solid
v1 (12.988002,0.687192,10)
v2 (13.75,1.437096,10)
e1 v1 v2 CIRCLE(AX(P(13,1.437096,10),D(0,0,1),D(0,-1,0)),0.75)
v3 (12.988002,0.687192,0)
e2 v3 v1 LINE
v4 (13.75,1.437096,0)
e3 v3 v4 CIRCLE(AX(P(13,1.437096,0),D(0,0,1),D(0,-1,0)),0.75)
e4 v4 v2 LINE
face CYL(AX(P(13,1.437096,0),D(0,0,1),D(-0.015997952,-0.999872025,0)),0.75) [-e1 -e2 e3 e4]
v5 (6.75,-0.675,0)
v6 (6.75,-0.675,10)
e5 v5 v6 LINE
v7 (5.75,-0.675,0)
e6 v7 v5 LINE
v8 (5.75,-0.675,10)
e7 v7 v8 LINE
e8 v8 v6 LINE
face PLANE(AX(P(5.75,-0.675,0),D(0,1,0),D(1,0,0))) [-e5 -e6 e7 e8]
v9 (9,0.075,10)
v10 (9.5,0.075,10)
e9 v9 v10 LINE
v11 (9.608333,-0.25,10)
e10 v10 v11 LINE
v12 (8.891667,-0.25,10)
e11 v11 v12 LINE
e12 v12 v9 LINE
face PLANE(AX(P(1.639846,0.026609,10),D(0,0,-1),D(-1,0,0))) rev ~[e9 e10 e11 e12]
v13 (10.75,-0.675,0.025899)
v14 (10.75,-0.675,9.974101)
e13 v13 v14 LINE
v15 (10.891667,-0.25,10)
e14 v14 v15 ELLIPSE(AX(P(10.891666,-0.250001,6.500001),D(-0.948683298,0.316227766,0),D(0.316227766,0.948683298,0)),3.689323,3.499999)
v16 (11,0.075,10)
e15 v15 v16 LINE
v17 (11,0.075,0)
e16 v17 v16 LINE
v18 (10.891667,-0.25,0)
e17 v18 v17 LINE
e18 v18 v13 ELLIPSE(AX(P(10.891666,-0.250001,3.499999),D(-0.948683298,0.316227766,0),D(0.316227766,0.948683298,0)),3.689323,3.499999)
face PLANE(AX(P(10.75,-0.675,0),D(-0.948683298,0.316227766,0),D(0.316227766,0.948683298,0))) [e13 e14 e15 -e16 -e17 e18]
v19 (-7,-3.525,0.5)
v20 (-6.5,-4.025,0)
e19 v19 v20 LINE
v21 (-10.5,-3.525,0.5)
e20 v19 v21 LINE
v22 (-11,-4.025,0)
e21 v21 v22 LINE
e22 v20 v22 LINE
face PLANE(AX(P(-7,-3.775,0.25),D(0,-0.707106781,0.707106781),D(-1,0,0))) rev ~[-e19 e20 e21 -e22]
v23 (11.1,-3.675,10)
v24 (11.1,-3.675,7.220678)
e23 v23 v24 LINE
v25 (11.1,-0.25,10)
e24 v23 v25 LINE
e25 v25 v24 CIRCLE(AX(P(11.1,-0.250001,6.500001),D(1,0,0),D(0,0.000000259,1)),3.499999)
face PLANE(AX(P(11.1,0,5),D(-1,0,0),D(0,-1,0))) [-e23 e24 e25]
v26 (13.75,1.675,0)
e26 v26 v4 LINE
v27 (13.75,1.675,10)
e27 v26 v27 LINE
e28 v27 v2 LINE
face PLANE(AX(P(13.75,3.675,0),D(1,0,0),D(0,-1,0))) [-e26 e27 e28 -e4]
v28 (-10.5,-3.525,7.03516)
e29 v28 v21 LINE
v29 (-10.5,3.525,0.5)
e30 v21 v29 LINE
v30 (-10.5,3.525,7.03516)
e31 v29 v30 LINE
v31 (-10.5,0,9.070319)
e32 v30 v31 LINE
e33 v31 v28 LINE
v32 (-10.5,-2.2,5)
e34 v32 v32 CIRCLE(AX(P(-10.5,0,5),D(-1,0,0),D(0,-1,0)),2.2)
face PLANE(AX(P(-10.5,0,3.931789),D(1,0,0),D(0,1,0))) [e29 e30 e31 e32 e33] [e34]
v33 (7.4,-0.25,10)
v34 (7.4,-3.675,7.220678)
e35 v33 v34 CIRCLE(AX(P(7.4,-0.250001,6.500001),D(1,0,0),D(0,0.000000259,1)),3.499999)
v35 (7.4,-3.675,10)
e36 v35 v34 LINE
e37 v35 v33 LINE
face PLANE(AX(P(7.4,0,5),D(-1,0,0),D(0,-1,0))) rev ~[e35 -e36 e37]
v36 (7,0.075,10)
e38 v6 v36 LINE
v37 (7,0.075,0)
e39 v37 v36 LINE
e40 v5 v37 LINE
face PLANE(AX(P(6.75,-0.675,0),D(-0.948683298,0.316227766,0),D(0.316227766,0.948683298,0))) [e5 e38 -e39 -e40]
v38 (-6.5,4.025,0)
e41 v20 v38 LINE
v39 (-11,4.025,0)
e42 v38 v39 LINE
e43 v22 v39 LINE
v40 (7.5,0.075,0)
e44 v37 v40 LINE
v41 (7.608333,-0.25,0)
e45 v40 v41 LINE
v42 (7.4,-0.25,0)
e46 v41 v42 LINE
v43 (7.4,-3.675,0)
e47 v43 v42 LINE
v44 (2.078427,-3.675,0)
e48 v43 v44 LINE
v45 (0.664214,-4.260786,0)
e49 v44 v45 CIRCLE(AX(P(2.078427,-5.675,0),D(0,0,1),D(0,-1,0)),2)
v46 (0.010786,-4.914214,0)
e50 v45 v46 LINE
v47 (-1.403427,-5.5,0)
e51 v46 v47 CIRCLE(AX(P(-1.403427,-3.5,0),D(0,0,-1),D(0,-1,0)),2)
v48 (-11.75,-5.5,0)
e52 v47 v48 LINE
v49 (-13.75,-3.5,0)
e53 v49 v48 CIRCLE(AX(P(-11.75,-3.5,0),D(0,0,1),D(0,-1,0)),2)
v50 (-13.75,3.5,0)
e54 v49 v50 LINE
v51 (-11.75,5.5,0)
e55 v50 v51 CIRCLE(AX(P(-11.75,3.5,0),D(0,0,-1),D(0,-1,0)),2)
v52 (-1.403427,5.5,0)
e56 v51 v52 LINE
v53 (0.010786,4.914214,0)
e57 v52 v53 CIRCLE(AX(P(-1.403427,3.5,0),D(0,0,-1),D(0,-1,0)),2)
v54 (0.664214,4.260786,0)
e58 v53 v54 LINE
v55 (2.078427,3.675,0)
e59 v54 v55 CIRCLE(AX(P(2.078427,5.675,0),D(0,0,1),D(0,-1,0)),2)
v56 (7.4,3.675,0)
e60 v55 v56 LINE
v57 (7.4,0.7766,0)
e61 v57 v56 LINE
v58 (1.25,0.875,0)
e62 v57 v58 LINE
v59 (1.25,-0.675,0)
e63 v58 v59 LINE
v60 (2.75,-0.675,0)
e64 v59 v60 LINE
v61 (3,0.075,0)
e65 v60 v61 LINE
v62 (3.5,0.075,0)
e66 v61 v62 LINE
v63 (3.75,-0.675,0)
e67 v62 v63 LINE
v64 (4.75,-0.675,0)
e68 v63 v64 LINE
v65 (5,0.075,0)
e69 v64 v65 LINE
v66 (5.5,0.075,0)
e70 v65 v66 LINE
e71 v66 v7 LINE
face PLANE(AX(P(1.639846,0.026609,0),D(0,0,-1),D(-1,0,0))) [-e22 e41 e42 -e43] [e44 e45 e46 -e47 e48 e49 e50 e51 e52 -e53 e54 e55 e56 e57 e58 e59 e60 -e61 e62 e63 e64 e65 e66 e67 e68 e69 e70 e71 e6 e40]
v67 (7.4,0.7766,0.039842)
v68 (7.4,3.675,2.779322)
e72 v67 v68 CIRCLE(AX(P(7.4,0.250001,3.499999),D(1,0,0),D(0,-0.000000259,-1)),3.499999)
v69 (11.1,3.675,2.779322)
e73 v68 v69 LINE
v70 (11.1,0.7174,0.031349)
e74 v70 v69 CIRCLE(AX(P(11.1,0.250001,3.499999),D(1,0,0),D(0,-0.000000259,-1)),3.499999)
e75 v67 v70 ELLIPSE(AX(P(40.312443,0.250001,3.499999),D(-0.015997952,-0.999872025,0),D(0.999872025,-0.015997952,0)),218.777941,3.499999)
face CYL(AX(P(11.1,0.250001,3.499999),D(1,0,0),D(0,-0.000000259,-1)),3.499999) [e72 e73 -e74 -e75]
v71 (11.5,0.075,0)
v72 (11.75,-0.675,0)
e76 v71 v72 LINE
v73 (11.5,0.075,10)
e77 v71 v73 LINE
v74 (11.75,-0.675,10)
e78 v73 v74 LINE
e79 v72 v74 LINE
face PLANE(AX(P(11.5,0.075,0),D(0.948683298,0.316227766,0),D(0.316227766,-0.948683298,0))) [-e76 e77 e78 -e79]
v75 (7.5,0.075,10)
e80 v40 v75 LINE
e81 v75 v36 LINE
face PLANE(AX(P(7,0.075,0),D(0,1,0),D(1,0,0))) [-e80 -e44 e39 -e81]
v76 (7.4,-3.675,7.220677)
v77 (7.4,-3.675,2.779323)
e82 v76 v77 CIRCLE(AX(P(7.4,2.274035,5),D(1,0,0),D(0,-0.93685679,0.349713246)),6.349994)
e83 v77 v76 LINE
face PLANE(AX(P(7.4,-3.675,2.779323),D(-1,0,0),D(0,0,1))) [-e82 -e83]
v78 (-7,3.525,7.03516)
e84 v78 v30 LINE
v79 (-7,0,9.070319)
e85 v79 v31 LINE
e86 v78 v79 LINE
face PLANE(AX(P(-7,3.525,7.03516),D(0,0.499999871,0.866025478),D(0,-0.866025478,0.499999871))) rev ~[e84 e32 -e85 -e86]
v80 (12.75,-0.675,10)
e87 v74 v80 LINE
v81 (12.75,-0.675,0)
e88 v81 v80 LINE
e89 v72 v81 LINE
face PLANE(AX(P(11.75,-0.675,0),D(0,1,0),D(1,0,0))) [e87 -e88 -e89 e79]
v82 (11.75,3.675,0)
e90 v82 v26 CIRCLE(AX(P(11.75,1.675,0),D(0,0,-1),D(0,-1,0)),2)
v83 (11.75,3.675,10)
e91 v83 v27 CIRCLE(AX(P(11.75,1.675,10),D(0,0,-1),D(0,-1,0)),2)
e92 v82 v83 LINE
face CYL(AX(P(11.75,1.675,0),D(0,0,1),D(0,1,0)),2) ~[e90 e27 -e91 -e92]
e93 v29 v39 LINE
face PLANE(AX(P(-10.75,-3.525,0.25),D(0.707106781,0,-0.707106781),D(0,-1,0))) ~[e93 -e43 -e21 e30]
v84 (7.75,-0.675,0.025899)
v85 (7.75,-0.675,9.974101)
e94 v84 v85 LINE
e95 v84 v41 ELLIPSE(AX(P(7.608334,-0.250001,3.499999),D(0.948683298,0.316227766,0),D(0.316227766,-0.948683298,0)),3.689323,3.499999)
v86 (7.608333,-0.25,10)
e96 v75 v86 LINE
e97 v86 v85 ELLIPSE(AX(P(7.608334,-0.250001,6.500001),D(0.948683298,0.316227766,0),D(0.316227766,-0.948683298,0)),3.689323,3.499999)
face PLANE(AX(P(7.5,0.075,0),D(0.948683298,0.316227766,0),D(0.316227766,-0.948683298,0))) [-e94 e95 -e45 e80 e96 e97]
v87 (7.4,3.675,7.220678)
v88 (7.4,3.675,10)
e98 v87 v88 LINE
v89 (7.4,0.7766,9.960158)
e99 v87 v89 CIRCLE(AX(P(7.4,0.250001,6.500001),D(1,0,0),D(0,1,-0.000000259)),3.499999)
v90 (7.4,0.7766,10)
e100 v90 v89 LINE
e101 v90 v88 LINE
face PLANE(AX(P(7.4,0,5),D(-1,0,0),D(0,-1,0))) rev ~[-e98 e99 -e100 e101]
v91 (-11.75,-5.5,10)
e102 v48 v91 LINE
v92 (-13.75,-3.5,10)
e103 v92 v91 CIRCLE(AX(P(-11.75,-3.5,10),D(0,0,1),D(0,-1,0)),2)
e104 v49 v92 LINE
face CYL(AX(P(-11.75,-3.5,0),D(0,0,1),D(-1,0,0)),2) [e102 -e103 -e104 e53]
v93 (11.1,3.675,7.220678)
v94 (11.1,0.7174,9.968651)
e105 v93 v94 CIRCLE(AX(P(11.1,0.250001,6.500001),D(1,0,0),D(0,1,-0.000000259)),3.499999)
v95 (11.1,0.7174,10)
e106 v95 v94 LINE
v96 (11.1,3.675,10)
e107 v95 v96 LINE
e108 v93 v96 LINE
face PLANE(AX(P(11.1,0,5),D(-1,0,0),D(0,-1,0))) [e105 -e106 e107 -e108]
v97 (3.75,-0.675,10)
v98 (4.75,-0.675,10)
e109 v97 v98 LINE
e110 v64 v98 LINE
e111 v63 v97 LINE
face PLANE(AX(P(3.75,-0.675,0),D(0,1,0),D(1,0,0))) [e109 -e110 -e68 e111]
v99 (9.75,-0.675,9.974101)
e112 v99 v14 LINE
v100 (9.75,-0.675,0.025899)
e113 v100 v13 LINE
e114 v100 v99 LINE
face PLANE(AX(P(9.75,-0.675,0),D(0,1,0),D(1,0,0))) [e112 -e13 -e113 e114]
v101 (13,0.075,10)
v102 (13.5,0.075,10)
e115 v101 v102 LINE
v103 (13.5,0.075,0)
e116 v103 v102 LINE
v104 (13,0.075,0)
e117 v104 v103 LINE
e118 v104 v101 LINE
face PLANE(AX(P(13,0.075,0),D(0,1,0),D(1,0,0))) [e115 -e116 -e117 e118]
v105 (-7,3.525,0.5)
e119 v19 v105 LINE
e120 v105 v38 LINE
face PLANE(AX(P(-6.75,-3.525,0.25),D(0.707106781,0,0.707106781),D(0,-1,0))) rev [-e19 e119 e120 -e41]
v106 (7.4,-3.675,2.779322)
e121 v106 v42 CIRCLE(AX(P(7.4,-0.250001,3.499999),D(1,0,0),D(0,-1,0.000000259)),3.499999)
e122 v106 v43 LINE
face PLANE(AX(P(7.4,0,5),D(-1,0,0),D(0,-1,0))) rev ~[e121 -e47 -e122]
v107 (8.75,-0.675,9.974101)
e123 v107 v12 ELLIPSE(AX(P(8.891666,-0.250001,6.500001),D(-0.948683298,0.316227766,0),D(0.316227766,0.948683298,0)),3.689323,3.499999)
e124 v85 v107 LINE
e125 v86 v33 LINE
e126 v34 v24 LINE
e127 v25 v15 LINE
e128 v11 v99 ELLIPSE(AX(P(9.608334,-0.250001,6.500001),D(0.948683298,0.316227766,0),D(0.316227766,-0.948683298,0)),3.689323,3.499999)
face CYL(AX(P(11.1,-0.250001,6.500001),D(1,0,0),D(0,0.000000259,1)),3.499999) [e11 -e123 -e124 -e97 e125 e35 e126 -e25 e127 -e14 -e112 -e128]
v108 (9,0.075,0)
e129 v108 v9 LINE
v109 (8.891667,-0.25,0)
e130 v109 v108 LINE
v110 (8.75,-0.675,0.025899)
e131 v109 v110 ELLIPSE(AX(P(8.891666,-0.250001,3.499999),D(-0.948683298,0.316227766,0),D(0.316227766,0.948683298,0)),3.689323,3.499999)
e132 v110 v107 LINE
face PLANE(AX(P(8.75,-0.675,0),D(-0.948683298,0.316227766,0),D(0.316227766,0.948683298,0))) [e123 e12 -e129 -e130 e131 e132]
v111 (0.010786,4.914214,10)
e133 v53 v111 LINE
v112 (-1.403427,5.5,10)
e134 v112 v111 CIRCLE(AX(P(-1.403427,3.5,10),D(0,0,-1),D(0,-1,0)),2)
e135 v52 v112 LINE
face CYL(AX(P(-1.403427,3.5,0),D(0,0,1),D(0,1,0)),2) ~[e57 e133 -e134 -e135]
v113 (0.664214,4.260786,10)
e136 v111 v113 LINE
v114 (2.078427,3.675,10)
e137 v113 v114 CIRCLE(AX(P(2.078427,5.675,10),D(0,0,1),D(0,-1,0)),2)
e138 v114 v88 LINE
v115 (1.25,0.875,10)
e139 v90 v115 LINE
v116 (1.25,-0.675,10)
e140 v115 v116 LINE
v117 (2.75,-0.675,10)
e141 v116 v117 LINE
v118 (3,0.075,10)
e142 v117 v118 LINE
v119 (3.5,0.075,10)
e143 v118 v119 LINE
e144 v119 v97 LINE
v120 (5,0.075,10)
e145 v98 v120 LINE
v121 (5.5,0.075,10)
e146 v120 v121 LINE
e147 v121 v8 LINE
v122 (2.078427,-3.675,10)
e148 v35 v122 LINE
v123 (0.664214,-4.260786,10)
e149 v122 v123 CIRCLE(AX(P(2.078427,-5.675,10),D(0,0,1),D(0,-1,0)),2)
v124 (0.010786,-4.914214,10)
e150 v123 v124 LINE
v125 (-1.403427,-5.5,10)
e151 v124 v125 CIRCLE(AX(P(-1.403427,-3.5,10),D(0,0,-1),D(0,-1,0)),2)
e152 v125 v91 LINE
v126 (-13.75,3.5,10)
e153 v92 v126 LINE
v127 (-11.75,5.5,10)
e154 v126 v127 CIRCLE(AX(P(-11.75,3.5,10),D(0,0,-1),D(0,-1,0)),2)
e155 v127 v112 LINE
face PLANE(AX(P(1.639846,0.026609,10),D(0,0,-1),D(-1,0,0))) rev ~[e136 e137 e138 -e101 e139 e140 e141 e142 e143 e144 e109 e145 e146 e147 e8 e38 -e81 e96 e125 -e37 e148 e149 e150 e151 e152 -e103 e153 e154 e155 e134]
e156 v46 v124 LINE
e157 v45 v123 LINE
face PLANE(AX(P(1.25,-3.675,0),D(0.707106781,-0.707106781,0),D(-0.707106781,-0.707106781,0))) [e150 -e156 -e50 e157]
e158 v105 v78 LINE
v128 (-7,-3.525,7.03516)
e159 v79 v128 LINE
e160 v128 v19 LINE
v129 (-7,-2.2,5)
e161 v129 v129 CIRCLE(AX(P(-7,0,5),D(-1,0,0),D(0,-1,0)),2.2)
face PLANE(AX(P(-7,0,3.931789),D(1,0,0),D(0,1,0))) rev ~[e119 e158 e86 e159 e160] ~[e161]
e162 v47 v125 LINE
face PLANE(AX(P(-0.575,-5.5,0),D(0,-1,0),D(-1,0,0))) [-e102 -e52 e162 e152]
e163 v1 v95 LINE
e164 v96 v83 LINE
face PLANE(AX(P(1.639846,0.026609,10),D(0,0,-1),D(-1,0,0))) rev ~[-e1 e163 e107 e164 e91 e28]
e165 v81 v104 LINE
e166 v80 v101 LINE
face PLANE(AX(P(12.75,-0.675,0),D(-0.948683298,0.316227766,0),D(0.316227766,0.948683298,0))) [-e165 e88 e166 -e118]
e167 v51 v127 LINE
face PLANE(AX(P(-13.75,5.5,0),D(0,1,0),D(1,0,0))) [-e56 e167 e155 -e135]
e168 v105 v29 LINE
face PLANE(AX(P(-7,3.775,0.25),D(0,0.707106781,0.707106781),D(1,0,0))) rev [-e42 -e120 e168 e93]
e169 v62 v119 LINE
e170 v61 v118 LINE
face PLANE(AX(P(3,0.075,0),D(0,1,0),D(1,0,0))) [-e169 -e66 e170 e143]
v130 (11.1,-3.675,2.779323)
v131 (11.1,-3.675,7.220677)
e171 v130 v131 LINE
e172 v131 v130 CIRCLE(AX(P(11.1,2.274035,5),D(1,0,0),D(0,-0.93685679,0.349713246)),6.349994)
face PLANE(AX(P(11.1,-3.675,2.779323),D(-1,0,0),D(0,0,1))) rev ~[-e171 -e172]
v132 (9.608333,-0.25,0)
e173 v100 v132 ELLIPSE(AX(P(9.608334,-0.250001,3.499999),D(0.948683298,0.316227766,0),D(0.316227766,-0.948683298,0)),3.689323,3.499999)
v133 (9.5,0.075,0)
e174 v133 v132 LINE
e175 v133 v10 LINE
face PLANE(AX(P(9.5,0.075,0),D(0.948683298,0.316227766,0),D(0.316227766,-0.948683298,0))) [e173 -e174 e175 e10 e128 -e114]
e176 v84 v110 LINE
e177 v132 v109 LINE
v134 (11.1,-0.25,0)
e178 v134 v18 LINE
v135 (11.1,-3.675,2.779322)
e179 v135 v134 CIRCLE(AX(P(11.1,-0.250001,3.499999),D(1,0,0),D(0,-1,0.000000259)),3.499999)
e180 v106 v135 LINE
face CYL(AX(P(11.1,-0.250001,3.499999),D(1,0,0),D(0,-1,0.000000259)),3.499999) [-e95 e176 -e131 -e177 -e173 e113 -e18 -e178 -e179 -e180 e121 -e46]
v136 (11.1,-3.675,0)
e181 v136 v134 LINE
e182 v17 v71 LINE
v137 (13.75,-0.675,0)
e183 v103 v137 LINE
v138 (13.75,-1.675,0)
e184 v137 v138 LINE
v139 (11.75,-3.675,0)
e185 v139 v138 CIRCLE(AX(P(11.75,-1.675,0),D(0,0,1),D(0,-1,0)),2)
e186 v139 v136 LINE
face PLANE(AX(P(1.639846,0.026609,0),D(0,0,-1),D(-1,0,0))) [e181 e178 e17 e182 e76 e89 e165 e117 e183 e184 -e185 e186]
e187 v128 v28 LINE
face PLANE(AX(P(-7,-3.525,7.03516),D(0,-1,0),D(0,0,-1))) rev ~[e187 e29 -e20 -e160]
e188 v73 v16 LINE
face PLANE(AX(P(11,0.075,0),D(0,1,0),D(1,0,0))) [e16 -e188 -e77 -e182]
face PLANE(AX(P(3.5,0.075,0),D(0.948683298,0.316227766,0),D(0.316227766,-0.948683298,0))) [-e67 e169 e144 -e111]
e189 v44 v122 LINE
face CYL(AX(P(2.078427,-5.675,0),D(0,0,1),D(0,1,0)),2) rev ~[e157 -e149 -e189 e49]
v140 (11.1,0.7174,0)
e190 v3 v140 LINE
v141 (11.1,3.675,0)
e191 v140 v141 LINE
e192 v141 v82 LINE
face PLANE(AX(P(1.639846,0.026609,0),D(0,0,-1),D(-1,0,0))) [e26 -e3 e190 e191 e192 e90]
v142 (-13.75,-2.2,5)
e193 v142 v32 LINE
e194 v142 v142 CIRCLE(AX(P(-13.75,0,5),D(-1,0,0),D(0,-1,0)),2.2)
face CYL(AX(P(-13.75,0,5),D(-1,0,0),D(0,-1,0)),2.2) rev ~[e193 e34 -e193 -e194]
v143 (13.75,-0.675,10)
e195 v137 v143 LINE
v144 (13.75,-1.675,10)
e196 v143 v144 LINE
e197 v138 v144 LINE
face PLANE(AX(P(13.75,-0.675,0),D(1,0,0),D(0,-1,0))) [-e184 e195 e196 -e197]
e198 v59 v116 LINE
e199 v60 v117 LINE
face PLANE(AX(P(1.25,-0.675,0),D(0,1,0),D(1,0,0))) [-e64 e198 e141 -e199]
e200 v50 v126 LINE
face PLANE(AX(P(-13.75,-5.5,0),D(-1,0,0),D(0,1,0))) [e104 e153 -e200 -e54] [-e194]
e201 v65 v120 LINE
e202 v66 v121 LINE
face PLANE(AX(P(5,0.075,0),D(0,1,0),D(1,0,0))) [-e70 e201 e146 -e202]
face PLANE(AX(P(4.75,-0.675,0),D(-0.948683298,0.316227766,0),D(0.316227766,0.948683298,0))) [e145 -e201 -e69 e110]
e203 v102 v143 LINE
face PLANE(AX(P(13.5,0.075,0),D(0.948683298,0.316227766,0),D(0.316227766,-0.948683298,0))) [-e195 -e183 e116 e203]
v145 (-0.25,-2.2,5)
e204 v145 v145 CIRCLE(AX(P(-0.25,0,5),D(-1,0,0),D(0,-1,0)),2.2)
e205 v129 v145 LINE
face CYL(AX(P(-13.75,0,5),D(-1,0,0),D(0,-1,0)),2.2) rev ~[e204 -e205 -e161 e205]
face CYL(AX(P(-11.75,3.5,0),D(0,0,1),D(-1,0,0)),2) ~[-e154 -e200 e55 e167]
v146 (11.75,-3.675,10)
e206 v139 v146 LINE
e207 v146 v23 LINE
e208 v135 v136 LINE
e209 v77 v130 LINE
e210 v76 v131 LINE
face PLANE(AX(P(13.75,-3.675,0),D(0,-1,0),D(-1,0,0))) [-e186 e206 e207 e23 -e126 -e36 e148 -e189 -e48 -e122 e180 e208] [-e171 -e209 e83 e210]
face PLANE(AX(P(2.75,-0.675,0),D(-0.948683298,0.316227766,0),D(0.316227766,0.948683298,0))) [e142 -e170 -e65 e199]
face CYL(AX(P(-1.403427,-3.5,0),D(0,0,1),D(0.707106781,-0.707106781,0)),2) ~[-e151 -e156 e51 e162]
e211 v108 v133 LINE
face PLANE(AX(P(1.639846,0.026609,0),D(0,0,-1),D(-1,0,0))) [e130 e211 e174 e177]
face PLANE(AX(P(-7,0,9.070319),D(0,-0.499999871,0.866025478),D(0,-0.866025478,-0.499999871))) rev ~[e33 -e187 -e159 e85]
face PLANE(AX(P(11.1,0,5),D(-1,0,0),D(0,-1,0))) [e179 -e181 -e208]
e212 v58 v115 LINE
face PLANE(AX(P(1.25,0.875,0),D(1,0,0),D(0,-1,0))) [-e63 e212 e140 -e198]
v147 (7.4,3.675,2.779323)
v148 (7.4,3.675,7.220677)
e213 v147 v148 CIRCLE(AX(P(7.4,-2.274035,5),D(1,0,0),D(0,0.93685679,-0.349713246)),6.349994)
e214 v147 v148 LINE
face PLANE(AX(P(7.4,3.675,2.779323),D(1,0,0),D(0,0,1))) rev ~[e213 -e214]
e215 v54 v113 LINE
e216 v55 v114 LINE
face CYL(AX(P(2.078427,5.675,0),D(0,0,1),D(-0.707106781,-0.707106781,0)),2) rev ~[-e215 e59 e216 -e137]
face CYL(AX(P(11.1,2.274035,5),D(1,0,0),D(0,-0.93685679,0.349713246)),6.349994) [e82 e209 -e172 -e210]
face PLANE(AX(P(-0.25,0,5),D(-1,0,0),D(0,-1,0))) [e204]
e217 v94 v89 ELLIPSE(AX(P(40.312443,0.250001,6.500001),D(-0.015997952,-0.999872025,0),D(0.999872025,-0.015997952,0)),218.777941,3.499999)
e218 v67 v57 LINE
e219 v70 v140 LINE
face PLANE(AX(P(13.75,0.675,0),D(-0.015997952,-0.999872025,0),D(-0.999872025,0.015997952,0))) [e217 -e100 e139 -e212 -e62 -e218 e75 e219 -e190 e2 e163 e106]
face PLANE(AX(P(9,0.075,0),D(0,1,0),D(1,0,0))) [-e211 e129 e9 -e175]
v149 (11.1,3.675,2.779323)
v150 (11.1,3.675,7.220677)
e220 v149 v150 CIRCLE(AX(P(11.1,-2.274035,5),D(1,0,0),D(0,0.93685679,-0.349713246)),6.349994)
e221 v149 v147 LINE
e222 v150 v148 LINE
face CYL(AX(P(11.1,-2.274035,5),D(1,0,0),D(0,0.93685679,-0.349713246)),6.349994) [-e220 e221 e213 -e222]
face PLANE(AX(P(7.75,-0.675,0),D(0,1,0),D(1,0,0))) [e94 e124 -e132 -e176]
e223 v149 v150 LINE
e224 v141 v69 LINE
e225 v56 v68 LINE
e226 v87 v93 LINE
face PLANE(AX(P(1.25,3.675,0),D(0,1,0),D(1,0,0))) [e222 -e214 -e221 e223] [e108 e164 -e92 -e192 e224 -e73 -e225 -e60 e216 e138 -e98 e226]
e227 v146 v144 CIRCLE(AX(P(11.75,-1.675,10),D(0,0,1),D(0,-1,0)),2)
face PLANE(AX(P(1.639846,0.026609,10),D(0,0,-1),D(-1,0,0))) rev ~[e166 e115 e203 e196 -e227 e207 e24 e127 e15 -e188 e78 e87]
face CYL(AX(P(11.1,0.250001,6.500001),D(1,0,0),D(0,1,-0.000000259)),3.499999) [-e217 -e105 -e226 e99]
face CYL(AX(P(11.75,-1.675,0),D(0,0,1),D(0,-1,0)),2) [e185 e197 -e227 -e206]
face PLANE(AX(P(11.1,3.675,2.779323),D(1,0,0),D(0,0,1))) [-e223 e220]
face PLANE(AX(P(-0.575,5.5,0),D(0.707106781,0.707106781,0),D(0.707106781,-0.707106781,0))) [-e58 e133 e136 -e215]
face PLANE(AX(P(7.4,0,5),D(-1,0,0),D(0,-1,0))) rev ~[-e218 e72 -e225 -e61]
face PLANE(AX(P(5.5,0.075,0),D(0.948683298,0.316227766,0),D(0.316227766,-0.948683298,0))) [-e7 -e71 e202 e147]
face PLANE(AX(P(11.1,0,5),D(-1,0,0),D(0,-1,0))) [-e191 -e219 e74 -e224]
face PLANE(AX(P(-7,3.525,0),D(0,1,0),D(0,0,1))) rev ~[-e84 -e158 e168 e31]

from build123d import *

# Parameters (mm, degrees)
PAD002_DEPTH    = 3.7
PAD001_DEPTH    = 3.5
PAD_DEPTH       = 10
SKETCH001_R     = 2.2
POCKET_DEPTH    = 13.5
CHAMFER_SIZE    = 0.5
FILLET_R        = 2
FILLET001_R     = 0.75
SKETCH004_W     = 3.7
SKETCH004_H     = 4.441354
PAD003_DEPTH    = 2
POCKET001_DEPTH = 3.7
SKETCH006_W     = 3.7
SKETCH006_H     = 4.441354
PAD004_DEPTH    = 2
POCKET002_DEPTH = 3.7


with BuildPart() as pad002:
    # Sketch003 → Pad002 (new body)
    with BuildSketch(Plane.YZ.offset(11.1)):
        with BuildLine():
            Line((-1.31066, 11.5), (1.31066, 11.5))
            ThreePointArc((5.25, 7.56066), (4.096194, 10.346194), (1.31066, 11.5))
            Line((5.25, 7.56066), (5.25, 2.43934))
            ThreePointArc((1.31066, -1.5), (4.096194, -0.346194), (5.25, 2.43934))
            Line((1.31066, -1.5), (-1.31066, -1.5))
            ThreePointArc((-5.25, 2.43934), (-4.096194, -0.346194), (-1.31066, -1.5))
            Line((-5.25, 2.43934), (-5.25, 7.56066))
            ThreePointArc((-1.31066, 11.5), (-4.096194, 10.346194), (-5.25, 7.56066))
        make_face()
        with BuildLine():
            Line((-0.25, 10), (0.25, 10))
            ThreePointArc((3.75, 6.5), (2.724874, 8.974874), (0.25, 10))
            Line((3.75, 6.5), (3.75, 3.5))
            ThreePointArc((0.25, 0), (2.724874, 1.025126), (3.75, 3.5))
            Line((0.25, 0), (-0.25, 0))
            ThreePointArc((-3.75, 3.5), (-2.724874, 1.025126), (-0.25, 0))
            Line((-3.75, 3.5), (-3.75, 6.5))
            ThreePointArc((-0.25, 10), (-2.724874, 8.974874), (-3.75, 6.5))
        make_face(mode=Mode.SUBTRACT)
    extrude(amount=-PAD002_DEPTH)


with BuildPart() as pad001:
    # Sketch002 → Pad001 (new body)
    with BuildSketch(Plane.YZ.offset(-7)):
        Polygon((3.525, 2.96484), (3.525, 7.03516), (0, 9.070319), (-3.525, 7.03516), (-3.525, 2.96484), (-3.525, 0), (3.525, 0), align=None)
    extrude(amount=-PAD001_DEPTH)


with BuildPart() as pocket002:
    # Sketch → Pad (new body)
    with BuildSketch(Plane.XY):
        Polygon((2.75, -0.675), (3, 0.075), (3.5, 0.075), (3.75, -0.675), (4.75, -0.675), (5, 0.075), (5.5, 0.075), (5.75, -0.675), (6.75, -0.675), (7, 0.075), (7.5, 0.075), (7.75, -0.675), (8.75, -0.675), (9, 0.075), (9.5, 0.075), (9.75, -0.675), (10.75, -0.675), (11, 0.075), (11.5, 0.075), (11.75, -0.675), (12.75, -0.675), (13, 0.075), (13.5, 0.075), (13.75, -0.675), (13.75, -3.675), (1.25, -3.675), (-0.575, -5.5), (-13.75, -5.5), (-13.75, 5.5), (-0.575, 5.5), (1.25, 3.675), (13.75, 3.675), (13.75, 0.675), (1.25, 0.875), (1.25, -0.675), align=None)
    extrude(amount=PAD_DEPTH)

    # Sketch001 → Pocket (cut)
    with BuildSketch(Plane(origin=(-13.75, 0, 0), x_dir=(0, -1, 0), z_dir=(-1, 0, 0))):
        with Locations((0, 5)):
            Circle(SKETCH001_R)
    extrude(amount=-POCKET_DEPTH, mode=Mode.SUBTRACT)

    # Cut: cut Pad001
    add(pad001.part, mode=Mode.SUBTRACT)

    # Cut001: cut Pad002
    add(pad002.part, mode=Mode.SUBTRACT)

    # Chamfer
    chamfer_edges = [pocket002.edges().sort_by_distance(p)[0] for p in [
        (-7, 0, 0),
        (-8.75, -3.525, 0),
        (-10.5, 0, 0),
        (-8.75, 3.525, 0),
    ]]
    chamfer(chamfer_edges, length=CHAMFER_SIZE)

    # Fillet
    fillet_edges = [pocket002.edges().sort_by_distance(p)[0] for p in [
        (13.75, 3.675, 5),
        (1.25, 3.675, 5),
        (-0.575, 5.5, 5),
        (-13.75, 5.5, 5),
        (13.75, -3.675, 5),
        (1.25, -3.675, 5),
        (-0.575, -5.5, 5),
        (-13.75, -5.5, 5),
    ]]
    fillet(fillet_edges, radius=FILLET_R)

    # Fillet001
    fillet001_edges = [pocket002.edges().sort_by_distance(p)[0] for p in [
        (13.75, 0.675, 5),
    ]]
    fillet(fillet001_edges, radius=FILLET001_R)

    # Sketch004 → Pad003 (new body)
    with BuildSketch(Plane.XZ.offset(3.675)):
        with Locations((9.25, 5)):
            Rectangle(SKETCH004_W, SKETCH004_H)
    extrude(amount=PAD003_DEPTH)

    # Sketch005 → Pocket001 (cut)
    with BuildSketch(Plane.YZ.offset(11.1)):
        with BuildLine():
            ThreePointArc((-3.675, 7.220677), (-4.075959, 5), (-3.675, 2.779323))
            Line((-3.675, 2.779323), (-5.675, 2.779323))
            Line((-5.675, 2.779323), (-5.675, 7.220677))
            Line((-5.675, 7.220677), (-3.675, 7.220677))
        make_face()
    extrude(amount=-POCKET001_DEPTH, mode=Mode.SUBTRACT)

    # Sketch006 → Pad004 (new body)
    with BuildSketch(Plane(origin=(0, 3.675, 0), x_dir=(-1, 0, 0), z_dir=(0, 1, 0))):
        with Locations((-9.25, 5)):
            Rectangle(SKETCH006_W, SKETCH006_H)
    extrude(amount=PAD004_DEPTH)

    # Sketch007 → Pocket002 (cut)
    with BuildSketch(Plane.YZ.offset(11.1)):
        with BuildLine():
            ThreePointArc((3.675, 2.779323), (4.075959, 5), (3.675, 7.220677))
            Line((3.675, 7.220677), (5.675, 7.220677))
            Line((5.675, 7.220677), (5.675, 2.779323))
            Line((5.675, 2.779323), (3.675, 2.779323))
        make_face()
    extrude(amount=-POCKET002_DEPTH, mode=Mode.SUBTRACT)


solid = pocket002.part
